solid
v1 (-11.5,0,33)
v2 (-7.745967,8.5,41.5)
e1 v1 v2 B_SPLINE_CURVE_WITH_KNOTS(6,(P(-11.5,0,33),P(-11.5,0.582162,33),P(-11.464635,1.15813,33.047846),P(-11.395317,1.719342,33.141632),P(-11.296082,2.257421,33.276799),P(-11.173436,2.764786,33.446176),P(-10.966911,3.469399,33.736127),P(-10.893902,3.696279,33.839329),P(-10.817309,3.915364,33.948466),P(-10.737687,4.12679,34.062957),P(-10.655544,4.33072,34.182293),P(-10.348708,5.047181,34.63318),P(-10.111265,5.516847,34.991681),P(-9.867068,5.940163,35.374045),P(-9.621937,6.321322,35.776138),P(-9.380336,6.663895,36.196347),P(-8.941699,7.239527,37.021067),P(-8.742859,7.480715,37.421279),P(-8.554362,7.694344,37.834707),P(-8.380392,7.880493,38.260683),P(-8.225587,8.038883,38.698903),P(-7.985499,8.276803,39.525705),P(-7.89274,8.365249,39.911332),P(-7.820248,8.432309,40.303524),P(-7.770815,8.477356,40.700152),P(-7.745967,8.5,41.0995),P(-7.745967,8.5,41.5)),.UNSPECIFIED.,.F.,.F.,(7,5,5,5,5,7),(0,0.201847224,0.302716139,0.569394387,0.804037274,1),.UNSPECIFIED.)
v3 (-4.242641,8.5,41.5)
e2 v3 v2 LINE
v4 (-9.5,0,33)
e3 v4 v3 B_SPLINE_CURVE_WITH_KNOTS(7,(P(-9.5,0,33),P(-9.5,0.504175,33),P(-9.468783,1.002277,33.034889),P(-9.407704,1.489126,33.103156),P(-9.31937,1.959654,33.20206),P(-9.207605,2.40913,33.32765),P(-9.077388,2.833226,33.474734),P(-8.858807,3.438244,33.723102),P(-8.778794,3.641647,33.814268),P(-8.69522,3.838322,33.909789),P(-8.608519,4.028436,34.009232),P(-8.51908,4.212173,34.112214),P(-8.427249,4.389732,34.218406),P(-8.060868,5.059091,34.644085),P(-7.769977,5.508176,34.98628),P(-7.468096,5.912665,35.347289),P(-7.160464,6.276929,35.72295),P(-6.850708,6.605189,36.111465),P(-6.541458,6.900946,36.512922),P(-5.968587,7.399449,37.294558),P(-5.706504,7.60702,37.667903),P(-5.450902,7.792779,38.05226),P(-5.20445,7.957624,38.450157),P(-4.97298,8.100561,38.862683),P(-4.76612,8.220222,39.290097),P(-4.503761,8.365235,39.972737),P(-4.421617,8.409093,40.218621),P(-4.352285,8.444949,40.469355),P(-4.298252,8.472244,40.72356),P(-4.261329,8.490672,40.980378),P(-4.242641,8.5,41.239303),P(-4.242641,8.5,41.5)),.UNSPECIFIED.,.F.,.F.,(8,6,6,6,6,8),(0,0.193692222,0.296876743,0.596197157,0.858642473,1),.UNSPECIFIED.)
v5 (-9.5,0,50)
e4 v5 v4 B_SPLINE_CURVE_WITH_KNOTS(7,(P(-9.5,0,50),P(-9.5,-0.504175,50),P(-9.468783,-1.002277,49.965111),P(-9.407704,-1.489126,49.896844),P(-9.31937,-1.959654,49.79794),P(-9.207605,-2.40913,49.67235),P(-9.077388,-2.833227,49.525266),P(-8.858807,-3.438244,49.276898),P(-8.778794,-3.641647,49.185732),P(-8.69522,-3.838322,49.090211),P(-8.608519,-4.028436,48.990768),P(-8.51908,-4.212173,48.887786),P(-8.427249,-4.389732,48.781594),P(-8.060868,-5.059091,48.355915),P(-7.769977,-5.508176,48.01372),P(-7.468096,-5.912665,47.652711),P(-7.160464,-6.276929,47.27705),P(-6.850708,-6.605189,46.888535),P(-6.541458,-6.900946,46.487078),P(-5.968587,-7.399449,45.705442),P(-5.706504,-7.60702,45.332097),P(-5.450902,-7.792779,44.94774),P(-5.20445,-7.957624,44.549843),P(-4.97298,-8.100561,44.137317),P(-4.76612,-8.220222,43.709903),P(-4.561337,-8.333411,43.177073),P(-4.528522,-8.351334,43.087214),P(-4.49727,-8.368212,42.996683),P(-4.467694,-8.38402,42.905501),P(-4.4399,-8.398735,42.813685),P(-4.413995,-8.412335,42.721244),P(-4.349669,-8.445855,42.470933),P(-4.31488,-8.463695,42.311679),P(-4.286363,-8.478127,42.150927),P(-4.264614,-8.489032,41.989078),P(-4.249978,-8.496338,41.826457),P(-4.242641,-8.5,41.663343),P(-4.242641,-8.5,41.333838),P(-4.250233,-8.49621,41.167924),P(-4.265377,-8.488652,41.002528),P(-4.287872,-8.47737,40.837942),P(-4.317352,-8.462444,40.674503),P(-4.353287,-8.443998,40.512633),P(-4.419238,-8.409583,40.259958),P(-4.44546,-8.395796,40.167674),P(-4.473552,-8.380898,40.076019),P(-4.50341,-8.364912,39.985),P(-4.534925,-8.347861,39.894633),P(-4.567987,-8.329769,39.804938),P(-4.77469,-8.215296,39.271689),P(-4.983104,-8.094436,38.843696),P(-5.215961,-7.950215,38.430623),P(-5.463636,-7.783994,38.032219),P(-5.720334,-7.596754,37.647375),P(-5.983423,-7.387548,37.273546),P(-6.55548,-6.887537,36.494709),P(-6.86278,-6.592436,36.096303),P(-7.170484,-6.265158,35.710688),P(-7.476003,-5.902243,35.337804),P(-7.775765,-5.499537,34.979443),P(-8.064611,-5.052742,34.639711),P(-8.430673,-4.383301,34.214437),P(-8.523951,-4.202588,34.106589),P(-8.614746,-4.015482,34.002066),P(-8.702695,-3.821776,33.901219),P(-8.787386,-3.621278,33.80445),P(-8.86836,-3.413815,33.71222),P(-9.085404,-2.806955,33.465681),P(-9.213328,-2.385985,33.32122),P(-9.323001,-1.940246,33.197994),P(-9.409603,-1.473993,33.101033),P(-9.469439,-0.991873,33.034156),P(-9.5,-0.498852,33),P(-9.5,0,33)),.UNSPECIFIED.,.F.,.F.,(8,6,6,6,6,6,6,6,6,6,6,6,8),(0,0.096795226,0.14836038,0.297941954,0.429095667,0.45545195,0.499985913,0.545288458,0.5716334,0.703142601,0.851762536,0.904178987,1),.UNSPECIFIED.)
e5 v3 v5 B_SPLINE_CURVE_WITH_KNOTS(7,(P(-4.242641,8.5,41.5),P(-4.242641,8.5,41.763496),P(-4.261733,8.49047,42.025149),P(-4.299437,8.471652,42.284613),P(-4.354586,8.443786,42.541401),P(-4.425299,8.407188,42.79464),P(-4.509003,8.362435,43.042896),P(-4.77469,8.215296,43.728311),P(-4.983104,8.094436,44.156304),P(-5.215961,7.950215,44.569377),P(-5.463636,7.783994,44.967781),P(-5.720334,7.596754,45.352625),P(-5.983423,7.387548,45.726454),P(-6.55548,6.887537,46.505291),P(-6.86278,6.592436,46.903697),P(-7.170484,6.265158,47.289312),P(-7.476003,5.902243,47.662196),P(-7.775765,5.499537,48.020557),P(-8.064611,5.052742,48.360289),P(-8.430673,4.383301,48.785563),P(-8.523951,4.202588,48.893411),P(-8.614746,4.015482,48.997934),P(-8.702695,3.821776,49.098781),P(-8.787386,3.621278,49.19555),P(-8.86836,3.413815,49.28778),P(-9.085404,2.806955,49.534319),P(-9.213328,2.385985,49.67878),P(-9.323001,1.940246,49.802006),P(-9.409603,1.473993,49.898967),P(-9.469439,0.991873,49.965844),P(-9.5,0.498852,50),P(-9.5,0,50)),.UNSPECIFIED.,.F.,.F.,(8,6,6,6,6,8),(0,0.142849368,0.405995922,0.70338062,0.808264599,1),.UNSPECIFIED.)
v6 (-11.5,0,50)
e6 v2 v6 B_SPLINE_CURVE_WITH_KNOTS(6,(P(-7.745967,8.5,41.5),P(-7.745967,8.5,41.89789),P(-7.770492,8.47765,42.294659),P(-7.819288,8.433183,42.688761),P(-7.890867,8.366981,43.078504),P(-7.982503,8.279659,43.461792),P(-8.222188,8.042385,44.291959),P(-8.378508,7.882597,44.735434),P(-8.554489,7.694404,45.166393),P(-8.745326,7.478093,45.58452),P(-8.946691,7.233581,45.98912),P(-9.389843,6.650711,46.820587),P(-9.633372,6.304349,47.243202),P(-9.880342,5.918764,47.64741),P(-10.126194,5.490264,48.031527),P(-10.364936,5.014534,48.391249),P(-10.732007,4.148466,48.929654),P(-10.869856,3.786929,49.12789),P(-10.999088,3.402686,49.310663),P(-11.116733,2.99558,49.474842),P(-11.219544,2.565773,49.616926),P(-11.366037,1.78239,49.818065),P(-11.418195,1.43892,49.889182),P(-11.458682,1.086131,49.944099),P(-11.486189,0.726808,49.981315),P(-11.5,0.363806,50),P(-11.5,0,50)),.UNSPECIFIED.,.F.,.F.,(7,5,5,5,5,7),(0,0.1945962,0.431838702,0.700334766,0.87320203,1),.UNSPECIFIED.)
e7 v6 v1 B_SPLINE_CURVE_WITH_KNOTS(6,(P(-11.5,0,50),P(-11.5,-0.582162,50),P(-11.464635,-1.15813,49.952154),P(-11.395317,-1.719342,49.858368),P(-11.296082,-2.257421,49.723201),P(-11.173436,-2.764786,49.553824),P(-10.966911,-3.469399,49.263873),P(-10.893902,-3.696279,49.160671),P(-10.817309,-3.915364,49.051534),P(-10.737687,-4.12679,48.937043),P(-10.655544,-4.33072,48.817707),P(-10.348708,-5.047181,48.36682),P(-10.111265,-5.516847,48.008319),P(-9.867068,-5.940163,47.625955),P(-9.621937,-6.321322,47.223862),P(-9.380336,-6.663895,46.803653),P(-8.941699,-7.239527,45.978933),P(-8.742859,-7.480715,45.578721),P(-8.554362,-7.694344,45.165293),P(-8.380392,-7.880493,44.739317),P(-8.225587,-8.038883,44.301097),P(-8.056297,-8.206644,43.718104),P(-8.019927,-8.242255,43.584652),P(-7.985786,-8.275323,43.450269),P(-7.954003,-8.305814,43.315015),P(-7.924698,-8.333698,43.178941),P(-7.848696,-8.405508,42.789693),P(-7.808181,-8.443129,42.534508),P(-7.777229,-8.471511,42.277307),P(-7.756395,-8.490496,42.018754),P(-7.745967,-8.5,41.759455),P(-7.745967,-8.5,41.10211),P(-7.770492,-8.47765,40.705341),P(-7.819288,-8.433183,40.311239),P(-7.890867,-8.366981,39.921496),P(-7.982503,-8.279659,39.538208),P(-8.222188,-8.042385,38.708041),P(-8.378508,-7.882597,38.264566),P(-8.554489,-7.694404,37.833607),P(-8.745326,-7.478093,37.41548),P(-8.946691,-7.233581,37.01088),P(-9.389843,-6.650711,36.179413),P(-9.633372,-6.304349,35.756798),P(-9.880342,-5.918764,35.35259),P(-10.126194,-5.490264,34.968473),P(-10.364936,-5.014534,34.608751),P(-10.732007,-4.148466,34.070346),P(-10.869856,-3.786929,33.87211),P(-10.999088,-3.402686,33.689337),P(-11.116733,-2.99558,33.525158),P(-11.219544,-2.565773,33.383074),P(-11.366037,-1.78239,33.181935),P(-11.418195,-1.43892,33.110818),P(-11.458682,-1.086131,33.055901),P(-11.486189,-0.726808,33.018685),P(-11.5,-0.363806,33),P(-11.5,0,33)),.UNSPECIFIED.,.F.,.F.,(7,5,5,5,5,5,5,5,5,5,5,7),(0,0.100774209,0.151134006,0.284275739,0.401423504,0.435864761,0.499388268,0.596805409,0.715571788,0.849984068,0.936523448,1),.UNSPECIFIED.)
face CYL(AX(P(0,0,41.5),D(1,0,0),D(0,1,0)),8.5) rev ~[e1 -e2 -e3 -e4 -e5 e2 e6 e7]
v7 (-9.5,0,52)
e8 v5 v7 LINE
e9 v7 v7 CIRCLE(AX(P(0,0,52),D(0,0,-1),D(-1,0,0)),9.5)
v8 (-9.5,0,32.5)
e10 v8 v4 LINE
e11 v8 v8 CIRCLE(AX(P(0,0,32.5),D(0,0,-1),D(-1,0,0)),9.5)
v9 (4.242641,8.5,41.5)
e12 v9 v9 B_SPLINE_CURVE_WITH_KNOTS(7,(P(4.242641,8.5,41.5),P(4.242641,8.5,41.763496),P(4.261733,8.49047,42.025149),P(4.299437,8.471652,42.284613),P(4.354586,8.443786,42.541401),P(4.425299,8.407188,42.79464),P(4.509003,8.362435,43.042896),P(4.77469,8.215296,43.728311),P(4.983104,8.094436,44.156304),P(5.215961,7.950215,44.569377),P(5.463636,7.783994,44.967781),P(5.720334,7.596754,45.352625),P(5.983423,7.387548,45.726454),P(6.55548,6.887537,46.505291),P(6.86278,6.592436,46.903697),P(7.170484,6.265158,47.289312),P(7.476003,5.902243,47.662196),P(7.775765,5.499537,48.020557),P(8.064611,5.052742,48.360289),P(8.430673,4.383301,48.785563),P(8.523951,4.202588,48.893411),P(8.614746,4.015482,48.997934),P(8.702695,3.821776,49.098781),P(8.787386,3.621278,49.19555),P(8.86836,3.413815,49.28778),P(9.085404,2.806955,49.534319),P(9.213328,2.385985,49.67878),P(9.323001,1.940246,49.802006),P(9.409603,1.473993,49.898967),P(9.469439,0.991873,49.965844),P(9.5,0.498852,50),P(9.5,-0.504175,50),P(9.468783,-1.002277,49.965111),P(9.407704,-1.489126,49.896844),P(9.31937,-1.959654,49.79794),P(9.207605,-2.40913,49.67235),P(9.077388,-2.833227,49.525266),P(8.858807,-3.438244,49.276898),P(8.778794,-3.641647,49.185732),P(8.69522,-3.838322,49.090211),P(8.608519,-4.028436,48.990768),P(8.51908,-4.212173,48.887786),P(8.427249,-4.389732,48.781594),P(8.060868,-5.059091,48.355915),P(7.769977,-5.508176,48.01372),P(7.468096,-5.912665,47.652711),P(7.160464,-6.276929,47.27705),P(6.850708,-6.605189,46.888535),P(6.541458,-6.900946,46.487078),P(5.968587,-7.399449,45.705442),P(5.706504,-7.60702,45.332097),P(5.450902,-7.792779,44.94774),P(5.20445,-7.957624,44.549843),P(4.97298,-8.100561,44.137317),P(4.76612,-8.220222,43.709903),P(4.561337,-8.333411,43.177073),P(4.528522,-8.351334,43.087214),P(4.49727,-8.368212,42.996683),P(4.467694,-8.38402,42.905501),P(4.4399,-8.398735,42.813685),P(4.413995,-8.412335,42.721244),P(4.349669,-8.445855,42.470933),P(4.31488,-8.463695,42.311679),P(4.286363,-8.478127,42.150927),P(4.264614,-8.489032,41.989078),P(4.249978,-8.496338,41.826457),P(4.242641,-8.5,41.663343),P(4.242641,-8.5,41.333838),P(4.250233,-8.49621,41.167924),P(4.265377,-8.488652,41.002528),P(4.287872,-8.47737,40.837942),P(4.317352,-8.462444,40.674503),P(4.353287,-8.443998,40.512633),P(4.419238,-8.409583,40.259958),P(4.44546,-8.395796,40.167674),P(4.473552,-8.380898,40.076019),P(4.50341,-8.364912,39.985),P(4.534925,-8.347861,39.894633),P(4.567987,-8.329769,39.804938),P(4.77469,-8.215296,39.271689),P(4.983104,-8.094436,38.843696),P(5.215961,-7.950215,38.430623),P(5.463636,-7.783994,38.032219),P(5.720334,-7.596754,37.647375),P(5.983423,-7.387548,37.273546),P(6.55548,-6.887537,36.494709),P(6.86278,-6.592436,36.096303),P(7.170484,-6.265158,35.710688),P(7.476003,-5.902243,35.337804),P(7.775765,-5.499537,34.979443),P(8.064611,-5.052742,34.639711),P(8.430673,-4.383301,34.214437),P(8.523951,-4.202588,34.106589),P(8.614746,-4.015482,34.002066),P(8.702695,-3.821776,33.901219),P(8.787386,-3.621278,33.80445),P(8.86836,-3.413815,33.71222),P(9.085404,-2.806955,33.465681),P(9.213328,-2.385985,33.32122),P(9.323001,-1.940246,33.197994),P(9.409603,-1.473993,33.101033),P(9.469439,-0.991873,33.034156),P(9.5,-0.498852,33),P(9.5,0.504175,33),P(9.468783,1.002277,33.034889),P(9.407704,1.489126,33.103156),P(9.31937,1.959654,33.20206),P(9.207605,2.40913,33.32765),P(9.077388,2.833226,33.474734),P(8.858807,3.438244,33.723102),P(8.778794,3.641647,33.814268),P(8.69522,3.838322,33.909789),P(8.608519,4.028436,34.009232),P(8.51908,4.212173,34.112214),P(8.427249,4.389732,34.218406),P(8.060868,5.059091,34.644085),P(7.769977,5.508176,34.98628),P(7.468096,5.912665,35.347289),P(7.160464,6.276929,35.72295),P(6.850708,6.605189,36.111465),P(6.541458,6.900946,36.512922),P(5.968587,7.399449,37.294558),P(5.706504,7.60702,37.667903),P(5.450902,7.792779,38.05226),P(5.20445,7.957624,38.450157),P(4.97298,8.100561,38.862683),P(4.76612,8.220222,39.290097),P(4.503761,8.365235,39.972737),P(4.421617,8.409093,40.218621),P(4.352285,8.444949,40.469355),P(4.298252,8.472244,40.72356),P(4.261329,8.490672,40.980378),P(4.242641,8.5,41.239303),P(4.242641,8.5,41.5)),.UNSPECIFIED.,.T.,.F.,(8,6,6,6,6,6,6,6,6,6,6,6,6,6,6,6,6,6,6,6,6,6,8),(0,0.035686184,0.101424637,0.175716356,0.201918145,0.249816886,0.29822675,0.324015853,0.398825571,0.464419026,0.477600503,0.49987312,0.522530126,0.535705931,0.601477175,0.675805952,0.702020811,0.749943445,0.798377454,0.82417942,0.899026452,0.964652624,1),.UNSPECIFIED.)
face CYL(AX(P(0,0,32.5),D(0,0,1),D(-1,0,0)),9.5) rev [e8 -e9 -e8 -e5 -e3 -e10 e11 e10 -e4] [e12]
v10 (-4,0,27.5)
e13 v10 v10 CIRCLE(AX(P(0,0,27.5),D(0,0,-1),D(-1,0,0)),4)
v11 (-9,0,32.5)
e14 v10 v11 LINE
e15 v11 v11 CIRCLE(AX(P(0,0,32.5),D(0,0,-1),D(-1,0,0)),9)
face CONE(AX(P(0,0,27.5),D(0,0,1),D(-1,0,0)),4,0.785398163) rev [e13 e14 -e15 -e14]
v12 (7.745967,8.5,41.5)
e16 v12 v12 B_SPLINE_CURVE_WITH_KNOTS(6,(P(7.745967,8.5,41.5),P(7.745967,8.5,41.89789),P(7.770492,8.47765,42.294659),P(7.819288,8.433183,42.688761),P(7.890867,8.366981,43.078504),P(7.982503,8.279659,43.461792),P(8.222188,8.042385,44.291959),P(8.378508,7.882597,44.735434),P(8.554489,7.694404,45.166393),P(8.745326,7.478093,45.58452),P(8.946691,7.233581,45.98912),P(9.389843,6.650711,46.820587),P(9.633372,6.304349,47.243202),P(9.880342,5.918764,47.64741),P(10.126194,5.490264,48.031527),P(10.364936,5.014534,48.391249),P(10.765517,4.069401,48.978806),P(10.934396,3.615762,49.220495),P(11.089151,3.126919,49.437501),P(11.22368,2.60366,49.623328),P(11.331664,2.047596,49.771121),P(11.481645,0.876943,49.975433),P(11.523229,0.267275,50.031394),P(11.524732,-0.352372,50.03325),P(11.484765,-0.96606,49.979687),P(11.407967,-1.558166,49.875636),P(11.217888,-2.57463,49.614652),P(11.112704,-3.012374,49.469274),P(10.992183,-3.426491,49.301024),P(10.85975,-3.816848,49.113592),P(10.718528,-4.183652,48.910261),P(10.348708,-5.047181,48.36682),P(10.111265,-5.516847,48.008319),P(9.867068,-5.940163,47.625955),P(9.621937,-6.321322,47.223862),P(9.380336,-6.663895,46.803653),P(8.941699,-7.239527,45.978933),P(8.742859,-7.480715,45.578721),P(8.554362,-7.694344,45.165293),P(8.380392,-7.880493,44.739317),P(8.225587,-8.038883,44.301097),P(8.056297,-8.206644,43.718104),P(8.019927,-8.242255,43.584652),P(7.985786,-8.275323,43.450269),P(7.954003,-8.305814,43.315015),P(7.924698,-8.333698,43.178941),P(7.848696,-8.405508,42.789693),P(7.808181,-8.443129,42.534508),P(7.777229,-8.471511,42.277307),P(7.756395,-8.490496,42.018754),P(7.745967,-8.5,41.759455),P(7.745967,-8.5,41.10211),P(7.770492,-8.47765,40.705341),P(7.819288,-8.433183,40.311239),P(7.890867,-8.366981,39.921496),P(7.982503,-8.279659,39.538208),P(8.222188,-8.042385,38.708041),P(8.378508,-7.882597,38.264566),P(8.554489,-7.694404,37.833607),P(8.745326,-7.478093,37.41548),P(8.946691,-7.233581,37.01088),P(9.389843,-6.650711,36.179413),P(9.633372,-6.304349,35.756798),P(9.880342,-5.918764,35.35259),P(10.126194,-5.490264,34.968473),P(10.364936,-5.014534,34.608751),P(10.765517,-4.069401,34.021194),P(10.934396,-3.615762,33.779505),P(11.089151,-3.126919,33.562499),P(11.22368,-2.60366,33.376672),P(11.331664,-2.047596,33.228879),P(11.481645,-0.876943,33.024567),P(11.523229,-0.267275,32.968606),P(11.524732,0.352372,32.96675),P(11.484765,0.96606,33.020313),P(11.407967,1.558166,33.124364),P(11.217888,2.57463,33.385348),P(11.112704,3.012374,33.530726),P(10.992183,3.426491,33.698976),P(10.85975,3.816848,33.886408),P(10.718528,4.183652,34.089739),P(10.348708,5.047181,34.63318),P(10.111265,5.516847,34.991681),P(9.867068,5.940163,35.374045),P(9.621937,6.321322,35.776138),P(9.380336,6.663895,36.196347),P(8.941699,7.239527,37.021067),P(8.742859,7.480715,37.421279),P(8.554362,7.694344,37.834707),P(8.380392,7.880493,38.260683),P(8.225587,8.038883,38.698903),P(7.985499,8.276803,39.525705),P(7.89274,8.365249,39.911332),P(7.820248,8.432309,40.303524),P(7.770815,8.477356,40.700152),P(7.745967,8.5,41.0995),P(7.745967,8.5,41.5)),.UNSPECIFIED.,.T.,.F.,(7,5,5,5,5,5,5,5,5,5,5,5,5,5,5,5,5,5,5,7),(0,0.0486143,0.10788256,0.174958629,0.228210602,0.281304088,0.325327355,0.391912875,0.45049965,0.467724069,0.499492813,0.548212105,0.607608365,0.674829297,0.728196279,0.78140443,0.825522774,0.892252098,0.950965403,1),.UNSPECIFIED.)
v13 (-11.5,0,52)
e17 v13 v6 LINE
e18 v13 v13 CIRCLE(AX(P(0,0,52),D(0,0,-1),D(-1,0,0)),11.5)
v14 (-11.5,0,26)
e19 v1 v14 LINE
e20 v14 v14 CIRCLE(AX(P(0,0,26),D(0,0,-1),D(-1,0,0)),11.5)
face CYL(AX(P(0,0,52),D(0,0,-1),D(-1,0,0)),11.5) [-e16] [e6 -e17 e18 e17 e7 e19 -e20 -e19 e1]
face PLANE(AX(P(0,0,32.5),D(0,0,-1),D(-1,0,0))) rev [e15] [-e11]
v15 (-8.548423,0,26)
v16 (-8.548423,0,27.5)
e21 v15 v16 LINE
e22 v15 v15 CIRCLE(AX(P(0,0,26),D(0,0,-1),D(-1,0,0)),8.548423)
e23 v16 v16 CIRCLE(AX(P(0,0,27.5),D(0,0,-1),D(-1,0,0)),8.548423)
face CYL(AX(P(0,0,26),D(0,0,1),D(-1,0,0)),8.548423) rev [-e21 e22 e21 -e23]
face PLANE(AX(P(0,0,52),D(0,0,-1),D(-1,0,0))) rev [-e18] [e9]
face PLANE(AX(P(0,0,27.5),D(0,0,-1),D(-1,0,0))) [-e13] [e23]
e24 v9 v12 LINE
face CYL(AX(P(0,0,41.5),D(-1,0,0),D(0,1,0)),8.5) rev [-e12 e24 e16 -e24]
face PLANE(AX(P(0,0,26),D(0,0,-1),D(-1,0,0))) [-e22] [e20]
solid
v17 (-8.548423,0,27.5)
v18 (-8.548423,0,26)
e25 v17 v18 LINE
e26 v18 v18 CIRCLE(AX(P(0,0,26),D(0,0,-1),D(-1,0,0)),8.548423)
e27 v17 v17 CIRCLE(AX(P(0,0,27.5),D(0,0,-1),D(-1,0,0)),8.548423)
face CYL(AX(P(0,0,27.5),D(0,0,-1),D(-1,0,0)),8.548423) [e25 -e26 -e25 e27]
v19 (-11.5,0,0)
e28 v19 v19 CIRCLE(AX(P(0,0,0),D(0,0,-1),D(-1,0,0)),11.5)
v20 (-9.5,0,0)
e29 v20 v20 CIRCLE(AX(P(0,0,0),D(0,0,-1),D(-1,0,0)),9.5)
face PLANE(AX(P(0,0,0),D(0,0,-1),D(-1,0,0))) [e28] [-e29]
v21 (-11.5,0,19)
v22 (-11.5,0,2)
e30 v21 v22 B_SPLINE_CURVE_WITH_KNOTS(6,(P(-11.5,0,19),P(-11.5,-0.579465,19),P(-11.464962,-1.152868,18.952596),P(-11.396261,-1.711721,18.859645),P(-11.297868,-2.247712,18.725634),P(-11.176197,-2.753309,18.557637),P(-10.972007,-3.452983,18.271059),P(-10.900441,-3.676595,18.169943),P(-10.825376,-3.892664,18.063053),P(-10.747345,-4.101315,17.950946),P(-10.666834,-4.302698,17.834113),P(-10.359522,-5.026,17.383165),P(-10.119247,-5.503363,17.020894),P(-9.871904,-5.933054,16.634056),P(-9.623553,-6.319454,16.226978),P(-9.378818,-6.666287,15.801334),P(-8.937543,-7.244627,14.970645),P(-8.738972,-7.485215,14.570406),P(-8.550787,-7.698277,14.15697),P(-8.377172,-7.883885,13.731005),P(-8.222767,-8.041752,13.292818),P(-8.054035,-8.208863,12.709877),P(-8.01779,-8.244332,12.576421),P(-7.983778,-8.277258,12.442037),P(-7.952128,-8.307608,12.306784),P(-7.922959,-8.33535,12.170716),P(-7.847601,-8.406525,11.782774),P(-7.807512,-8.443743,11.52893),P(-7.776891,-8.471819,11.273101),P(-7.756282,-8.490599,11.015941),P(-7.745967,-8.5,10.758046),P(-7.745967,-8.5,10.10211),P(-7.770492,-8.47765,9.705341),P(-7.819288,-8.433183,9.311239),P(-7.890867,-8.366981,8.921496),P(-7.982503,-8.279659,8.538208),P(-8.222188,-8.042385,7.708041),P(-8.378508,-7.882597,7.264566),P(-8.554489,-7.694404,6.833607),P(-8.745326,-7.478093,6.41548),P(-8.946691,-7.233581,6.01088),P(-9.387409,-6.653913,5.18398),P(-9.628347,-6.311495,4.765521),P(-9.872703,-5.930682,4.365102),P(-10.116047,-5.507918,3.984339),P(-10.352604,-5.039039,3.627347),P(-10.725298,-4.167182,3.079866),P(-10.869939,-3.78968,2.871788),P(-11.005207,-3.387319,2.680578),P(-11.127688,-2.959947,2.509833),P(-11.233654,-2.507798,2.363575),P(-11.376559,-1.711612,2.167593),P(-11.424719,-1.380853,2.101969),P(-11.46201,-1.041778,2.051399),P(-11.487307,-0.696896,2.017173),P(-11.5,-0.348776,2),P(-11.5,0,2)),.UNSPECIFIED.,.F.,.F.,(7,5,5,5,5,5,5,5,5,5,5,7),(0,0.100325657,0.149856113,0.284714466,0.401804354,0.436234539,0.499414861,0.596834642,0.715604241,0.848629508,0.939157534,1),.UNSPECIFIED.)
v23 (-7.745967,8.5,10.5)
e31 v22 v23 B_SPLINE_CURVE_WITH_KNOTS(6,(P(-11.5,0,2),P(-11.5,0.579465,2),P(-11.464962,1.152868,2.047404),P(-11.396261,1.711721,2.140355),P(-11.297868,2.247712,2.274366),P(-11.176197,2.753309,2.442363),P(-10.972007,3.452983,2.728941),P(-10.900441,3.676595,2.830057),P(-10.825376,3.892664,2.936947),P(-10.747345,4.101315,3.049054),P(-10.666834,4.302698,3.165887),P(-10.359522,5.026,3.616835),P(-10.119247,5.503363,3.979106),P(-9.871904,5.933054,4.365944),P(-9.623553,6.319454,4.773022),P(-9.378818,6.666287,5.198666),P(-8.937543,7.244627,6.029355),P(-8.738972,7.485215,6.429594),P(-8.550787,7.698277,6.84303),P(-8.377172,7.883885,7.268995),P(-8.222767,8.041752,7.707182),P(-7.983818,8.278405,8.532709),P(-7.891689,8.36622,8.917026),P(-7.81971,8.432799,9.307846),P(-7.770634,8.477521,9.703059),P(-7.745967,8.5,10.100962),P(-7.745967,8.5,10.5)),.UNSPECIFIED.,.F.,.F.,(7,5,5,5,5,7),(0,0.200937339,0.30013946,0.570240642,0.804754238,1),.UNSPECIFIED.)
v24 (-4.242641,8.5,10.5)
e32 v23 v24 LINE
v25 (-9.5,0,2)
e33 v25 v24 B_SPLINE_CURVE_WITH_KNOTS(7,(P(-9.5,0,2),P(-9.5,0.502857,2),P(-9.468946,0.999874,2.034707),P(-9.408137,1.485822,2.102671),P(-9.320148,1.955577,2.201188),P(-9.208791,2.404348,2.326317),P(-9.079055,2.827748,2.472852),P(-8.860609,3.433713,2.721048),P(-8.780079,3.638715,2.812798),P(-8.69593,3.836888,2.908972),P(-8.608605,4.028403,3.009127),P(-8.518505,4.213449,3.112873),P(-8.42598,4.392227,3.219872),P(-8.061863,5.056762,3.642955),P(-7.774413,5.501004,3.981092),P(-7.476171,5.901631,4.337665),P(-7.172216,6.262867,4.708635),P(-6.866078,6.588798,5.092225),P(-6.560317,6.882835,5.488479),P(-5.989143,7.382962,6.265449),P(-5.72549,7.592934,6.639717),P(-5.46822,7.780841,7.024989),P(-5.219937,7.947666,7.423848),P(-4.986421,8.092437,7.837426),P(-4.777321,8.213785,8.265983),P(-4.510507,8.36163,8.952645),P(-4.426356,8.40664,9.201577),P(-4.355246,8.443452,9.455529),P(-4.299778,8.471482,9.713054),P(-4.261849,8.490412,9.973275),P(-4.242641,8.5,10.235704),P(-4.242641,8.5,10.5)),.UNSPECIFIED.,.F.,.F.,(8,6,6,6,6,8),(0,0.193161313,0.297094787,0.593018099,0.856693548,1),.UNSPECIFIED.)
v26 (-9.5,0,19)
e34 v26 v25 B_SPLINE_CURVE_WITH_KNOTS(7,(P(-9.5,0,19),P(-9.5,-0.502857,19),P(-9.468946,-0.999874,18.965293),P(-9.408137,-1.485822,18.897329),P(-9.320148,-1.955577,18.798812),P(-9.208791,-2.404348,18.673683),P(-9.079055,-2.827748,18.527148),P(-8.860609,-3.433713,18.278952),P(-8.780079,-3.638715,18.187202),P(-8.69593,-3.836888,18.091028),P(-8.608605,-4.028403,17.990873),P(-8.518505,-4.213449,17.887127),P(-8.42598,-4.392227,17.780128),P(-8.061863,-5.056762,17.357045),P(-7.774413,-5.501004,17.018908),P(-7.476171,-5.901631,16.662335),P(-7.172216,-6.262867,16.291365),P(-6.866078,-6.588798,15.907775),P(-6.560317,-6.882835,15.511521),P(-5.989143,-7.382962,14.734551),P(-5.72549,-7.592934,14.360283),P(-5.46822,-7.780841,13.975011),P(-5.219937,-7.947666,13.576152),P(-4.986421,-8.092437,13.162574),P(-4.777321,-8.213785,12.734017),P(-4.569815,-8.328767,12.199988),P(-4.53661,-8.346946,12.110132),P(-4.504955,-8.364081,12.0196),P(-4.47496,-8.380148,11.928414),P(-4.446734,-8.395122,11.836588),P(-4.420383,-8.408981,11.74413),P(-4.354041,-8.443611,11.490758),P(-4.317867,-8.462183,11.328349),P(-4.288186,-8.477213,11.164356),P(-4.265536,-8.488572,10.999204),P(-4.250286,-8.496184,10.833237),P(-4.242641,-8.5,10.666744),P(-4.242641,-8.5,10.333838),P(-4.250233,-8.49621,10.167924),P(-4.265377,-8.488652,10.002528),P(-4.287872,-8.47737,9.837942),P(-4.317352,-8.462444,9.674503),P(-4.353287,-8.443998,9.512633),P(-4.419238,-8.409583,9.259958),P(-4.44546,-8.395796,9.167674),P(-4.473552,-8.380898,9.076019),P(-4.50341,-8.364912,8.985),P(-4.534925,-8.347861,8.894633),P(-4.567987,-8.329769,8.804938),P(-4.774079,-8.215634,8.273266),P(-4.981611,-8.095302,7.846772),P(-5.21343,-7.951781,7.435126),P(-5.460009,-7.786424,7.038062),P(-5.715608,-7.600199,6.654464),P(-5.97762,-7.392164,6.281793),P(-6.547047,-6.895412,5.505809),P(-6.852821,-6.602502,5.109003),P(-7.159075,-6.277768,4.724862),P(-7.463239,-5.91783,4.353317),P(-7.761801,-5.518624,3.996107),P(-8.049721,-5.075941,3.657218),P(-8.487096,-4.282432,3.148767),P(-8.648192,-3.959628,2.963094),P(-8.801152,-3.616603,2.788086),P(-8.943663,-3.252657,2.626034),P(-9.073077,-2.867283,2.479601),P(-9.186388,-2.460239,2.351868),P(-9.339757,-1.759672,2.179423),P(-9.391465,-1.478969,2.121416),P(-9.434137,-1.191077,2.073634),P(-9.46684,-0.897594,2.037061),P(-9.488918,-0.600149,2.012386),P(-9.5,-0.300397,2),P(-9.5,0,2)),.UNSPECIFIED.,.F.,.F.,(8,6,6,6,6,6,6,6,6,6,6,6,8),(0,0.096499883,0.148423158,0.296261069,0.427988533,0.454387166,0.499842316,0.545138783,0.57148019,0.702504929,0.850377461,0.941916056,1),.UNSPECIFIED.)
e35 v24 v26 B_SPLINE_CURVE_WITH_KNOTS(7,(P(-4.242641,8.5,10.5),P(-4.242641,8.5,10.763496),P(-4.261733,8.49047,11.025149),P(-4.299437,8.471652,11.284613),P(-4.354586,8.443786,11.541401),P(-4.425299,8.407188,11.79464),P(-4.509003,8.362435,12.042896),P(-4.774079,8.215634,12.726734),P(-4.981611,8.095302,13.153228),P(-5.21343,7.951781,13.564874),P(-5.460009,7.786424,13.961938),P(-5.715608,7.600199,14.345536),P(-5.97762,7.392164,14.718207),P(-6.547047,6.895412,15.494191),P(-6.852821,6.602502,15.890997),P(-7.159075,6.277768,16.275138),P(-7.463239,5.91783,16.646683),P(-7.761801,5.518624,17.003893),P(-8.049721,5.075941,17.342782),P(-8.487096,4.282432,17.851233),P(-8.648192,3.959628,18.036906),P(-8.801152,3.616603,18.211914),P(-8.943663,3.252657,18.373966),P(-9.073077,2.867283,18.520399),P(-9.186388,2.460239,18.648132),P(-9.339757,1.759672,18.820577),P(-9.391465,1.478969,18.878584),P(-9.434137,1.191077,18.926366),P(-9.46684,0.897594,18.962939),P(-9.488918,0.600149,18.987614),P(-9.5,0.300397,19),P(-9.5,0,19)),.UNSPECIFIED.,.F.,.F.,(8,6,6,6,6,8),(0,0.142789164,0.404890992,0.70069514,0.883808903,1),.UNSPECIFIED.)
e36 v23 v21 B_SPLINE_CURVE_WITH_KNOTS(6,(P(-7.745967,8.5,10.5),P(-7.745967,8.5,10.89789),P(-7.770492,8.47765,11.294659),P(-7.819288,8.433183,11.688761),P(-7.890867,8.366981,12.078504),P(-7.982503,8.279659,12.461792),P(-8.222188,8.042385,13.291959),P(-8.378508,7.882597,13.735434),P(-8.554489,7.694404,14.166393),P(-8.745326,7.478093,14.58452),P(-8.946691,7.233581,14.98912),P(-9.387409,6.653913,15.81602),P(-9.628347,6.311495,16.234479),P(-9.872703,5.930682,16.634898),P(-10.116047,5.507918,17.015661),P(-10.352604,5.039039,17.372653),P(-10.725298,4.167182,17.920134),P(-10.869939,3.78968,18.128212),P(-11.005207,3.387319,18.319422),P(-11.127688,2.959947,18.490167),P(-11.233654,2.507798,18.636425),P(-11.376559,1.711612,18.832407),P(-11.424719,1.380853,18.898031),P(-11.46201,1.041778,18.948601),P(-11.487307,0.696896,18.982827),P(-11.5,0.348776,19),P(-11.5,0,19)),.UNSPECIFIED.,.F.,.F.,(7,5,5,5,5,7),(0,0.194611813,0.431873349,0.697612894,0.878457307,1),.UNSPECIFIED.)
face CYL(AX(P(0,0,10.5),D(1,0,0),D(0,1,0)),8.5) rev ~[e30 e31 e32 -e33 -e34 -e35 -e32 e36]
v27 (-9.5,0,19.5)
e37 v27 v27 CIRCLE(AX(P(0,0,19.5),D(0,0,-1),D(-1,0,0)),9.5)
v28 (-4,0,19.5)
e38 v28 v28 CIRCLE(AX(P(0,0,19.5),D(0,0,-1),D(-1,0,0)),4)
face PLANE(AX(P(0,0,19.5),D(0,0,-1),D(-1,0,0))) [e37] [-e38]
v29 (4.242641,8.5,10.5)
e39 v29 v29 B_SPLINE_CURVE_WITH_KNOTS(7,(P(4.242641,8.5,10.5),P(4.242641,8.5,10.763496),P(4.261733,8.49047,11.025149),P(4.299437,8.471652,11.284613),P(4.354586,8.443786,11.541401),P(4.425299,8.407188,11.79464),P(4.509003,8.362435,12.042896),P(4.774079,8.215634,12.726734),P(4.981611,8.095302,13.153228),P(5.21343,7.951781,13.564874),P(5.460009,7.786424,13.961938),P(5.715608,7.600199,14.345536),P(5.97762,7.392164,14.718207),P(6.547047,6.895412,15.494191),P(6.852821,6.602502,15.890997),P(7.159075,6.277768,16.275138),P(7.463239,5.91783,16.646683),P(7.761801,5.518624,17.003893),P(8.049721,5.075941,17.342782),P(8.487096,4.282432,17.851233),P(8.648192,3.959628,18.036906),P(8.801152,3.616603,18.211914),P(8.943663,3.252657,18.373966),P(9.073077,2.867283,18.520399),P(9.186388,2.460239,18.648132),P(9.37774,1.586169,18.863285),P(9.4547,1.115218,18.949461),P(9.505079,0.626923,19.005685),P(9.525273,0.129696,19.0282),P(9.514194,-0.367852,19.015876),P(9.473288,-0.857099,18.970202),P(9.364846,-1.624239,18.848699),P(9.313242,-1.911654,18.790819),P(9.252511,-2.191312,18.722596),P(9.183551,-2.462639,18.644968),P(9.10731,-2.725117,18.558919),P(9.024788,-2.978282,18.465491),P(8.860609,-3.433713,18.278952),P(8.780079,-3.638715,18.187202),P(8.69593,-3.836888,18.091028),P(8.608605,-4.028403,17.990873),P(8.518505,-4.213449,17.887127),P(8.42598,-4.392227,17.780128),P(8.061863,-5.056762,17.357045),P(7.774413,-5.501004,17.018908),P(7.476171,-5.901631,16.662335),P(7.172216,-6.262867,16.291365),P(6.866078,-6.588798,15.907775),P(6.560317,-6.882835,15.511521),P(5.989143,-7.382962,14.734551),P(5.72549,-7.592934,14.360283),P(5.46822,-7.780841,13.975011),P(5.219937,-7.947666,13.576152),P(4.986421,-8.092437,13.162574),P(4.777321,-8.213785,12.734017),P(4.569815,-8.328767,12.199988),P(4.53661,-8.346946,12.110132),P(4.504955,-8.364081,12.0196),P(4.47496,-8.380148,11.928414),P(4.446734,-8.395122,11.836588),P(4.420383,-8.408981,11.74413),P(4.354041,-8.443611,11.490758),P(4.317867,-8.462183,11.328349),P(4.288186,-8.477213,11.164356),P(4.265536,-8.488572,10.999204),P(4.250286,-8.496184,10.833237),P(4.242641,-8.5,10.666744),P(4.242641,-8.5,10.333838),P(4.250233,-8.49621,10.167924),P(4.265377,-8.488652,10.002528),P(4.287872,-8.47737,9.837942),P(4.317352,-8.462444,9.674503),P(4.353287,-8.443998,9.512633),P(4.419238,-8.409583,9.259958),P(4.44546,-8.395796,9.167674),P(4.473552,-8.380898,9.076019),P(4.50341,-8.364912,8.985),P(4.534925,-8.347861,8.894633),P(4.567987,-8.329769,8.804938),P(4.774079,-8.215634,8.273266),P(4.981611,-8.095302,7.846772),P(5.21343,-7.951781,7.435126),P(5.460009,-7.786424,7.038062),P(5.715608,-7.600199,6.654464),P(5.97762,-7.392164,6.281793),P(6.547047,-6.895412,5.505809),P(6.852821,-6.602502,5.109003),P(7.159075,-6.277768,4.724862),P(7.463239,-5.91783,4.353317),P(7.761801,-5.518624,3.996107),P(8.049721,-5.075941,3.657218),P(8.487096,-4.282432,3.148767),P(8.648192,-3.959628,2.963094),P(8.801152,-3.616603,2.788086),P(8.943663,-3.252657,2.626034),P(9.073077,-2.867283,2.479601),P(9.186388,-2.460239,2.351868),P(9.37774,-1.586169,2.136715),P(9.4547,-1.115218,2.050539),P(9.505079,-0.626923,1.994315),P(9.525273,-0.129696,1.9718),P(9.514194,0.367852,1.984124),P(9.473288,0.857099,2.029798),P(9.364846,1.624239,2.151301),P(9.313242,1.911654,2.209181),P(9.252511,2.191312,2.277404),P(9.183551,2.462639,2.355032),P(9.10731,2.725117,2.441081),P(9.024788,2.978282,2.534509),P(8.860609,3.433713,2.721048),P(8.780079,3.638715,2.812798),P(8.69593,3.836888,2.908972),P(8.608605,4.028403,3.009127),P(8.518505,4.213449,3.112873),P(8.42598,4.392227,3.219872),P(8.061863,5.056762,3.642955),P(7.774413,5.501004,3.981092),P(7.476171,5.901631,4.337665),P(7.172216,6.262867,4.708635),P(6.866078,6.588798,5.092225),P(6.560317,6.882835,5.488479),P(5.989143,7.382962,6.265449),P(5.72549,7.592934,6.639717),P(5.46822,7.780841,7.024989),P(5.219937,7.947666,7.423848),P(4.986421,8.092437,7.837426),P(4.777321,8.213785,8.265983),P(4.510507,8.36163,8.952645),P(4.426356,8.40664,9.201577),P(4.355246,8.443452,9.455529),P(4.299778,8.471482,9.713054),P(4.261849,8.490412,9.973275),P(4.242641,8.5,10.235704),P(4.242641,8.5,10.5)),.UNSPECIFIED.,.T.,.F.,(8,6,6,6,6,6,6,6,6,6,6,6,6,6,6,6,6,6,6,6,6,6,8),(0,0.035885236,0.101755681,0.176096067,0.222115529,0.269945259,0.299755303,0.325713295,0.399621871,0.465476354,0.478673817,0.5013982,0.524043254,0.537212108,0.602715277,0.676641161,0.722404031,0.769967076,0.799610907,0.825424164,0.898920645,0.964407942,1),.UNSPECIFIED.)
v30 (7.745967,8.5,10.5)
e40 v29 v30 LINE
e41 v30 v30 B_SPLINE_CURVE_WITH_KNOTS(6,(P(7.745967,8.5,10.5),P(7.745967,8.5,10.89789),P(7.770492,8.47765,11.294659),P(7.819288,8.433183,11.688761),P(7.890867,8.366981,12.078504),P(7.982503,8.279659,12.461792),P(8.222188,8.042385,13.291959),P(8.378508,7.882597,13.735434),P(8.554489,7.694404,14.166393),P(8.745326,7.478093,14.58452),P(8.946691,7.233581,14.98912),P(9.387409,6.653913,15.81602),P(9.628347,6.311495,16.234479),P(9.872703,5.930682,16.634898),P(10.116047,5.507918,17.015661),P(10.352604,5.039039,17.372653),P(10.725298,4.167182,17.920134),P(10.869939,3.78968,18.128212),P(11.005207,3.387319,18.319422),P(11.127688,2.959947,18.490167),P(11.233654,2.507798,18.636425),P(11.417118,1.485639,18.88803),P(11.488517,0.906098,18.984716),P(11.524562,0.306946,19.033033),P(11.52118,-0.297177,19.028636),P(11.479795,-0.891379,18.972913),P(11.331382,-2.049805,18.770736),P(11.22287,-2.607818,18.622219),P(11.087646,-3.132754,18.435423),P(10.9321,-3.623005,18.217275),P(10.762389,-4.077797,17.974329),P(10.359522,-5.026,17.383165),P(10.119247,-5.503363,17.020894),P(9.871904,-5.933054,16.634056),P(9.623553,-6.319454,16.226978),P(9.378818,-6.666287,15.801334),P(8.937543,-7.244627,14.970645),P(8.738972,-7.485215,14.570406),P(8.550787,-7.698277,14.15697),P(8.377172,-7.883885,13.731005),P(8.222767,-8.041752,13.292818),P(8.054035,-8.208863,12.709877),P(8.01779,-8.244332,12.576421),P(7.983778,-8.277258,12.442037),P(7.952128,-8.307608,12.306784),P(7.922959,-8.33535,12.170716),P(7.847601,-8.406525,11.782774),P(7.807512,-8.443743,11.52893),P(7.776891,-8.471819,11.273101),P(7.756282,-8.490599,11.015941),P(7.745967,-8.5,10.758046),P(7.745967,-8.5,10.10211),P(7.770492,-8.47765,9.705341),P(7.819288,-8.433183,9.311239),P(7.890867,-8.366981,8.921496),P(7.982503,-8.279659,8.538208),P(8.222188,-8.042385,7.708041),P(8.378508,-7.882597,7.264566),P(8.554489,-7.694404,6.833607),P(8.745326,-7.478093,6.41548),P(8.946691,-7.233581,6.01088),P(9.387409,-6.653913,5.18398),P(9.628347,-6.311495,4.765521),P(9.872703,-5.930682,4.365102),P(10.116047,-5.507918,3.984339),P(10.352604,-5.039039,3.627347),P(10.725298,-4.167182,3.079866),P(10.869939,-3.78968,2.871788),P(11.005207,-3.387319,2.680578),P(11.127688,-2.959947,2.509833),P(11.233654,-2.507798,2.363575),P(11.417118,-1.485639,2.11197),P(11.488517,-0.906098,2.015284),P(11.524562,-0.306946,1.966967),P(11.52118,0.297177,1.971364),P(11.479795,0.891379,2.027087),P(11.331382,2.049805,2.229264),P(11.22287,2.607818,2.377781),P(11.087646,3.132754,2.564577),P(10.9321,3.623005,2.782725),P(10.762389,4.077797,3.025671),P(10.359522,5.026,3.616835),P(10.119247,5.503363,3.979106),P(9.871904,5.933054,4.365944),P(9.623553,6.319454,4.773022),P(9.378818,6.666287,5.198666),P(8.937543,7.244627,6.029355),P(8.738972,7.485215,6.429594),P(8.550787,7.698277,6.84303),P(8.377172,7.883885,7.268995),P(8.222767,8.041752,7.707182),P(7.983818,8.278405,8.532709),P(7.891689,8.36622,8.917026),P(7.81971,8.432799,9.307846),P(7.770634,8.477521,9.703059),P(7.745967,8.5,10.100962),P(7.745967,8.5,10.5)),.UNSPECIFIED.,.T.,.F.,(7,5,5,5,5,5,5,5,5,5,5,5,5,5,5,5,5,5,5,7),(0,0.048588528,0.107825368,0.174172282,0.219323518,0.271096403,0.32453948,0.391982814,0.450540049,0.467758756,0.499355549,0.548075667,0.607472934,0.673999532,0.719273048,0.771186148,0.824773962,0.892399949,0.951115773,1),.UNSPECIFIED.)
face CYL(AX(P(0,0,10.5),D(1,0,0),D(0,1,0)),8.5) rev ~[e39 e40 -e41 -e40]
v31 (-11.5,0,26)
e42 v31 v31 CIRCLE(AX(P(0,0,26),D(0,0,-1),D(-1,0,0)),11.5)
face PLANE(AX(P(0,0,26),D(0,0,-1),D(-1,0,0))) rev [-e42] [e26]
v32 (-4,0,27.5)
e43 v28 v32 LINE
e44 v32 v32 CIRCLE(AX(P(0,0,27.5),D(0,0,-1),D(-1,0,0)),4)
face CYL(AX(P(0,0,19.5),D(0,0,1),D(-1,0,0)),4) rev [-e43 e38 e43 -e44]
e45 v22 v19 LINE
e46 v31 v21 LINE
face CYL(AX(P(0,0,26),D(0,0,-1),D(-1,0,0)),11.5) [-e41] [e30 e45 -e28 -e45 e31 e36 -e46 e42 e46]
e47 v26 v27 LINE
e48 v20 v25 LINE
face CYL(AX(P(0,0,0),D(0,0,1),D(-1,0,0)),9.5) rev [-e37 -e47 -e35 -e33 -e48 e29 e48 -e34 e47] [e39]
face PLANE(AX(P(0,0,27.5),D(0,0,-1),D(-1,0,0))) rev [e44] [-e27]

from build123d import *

# Parameters (mm, degrees)
F3_R     = 8.5
F4_DEPTH = 27.1


with BuildPart() as f1:
    # F0 (on Front) → F1 (revolve)
    with BuildSketch(Plane.XZ):
        Polygon((-11.5, 52), (-11.5, 26), (-8.5484226346, 26), (-8.5484226346, 27.5), (-4, 27.5), (-9, 32.5), (-9.5, 32.5), (-9.5, 52), align=None)
    revolve(axis=Axis((0, 0, 16.25), (0, 0, -1)))


with BuildPart() as f2:
    # F0 (on Front) → F2 (revolve)
    with BuildSketch(Plane.XZ):
        Polygon((-11.5, 0), (-9.5, 0), (-9.5, 19.5), (-4, 19.5), (-4, 27.5), (-8.5484226346, 27.5), (-8.5484226346, 26), (-11.5, 26), align=None)
    revolve(axis=Axis((0, 0, 16.25), (0, 0, -1)))


with BuildPart() as f4_tool:
    # F3 (on Right) → F4 (new body, symmetric)
    with BuildSketch(Plane.YZ):
        with Locations((0, 41.5)):
            Circle(F3_R)
        with Locations((0, 10.5)):
            Circle(F3_R)
    extrude(amount=F4_DEPTH, both=True)


with BuildPart() as f1_1:
    add(f1.part)

    # F4: cut by f4_tool
    add(f4_tool.part, mode=Mode.SUBTRACT)


with BuildPart() as f2_1:
    add(f2.part)

    # F4: cut by f4_tool
    add(f4_tool.part, mode=Mode.SUBTRACT)


solid = Compound([f1_1.part, f2_1.part])
